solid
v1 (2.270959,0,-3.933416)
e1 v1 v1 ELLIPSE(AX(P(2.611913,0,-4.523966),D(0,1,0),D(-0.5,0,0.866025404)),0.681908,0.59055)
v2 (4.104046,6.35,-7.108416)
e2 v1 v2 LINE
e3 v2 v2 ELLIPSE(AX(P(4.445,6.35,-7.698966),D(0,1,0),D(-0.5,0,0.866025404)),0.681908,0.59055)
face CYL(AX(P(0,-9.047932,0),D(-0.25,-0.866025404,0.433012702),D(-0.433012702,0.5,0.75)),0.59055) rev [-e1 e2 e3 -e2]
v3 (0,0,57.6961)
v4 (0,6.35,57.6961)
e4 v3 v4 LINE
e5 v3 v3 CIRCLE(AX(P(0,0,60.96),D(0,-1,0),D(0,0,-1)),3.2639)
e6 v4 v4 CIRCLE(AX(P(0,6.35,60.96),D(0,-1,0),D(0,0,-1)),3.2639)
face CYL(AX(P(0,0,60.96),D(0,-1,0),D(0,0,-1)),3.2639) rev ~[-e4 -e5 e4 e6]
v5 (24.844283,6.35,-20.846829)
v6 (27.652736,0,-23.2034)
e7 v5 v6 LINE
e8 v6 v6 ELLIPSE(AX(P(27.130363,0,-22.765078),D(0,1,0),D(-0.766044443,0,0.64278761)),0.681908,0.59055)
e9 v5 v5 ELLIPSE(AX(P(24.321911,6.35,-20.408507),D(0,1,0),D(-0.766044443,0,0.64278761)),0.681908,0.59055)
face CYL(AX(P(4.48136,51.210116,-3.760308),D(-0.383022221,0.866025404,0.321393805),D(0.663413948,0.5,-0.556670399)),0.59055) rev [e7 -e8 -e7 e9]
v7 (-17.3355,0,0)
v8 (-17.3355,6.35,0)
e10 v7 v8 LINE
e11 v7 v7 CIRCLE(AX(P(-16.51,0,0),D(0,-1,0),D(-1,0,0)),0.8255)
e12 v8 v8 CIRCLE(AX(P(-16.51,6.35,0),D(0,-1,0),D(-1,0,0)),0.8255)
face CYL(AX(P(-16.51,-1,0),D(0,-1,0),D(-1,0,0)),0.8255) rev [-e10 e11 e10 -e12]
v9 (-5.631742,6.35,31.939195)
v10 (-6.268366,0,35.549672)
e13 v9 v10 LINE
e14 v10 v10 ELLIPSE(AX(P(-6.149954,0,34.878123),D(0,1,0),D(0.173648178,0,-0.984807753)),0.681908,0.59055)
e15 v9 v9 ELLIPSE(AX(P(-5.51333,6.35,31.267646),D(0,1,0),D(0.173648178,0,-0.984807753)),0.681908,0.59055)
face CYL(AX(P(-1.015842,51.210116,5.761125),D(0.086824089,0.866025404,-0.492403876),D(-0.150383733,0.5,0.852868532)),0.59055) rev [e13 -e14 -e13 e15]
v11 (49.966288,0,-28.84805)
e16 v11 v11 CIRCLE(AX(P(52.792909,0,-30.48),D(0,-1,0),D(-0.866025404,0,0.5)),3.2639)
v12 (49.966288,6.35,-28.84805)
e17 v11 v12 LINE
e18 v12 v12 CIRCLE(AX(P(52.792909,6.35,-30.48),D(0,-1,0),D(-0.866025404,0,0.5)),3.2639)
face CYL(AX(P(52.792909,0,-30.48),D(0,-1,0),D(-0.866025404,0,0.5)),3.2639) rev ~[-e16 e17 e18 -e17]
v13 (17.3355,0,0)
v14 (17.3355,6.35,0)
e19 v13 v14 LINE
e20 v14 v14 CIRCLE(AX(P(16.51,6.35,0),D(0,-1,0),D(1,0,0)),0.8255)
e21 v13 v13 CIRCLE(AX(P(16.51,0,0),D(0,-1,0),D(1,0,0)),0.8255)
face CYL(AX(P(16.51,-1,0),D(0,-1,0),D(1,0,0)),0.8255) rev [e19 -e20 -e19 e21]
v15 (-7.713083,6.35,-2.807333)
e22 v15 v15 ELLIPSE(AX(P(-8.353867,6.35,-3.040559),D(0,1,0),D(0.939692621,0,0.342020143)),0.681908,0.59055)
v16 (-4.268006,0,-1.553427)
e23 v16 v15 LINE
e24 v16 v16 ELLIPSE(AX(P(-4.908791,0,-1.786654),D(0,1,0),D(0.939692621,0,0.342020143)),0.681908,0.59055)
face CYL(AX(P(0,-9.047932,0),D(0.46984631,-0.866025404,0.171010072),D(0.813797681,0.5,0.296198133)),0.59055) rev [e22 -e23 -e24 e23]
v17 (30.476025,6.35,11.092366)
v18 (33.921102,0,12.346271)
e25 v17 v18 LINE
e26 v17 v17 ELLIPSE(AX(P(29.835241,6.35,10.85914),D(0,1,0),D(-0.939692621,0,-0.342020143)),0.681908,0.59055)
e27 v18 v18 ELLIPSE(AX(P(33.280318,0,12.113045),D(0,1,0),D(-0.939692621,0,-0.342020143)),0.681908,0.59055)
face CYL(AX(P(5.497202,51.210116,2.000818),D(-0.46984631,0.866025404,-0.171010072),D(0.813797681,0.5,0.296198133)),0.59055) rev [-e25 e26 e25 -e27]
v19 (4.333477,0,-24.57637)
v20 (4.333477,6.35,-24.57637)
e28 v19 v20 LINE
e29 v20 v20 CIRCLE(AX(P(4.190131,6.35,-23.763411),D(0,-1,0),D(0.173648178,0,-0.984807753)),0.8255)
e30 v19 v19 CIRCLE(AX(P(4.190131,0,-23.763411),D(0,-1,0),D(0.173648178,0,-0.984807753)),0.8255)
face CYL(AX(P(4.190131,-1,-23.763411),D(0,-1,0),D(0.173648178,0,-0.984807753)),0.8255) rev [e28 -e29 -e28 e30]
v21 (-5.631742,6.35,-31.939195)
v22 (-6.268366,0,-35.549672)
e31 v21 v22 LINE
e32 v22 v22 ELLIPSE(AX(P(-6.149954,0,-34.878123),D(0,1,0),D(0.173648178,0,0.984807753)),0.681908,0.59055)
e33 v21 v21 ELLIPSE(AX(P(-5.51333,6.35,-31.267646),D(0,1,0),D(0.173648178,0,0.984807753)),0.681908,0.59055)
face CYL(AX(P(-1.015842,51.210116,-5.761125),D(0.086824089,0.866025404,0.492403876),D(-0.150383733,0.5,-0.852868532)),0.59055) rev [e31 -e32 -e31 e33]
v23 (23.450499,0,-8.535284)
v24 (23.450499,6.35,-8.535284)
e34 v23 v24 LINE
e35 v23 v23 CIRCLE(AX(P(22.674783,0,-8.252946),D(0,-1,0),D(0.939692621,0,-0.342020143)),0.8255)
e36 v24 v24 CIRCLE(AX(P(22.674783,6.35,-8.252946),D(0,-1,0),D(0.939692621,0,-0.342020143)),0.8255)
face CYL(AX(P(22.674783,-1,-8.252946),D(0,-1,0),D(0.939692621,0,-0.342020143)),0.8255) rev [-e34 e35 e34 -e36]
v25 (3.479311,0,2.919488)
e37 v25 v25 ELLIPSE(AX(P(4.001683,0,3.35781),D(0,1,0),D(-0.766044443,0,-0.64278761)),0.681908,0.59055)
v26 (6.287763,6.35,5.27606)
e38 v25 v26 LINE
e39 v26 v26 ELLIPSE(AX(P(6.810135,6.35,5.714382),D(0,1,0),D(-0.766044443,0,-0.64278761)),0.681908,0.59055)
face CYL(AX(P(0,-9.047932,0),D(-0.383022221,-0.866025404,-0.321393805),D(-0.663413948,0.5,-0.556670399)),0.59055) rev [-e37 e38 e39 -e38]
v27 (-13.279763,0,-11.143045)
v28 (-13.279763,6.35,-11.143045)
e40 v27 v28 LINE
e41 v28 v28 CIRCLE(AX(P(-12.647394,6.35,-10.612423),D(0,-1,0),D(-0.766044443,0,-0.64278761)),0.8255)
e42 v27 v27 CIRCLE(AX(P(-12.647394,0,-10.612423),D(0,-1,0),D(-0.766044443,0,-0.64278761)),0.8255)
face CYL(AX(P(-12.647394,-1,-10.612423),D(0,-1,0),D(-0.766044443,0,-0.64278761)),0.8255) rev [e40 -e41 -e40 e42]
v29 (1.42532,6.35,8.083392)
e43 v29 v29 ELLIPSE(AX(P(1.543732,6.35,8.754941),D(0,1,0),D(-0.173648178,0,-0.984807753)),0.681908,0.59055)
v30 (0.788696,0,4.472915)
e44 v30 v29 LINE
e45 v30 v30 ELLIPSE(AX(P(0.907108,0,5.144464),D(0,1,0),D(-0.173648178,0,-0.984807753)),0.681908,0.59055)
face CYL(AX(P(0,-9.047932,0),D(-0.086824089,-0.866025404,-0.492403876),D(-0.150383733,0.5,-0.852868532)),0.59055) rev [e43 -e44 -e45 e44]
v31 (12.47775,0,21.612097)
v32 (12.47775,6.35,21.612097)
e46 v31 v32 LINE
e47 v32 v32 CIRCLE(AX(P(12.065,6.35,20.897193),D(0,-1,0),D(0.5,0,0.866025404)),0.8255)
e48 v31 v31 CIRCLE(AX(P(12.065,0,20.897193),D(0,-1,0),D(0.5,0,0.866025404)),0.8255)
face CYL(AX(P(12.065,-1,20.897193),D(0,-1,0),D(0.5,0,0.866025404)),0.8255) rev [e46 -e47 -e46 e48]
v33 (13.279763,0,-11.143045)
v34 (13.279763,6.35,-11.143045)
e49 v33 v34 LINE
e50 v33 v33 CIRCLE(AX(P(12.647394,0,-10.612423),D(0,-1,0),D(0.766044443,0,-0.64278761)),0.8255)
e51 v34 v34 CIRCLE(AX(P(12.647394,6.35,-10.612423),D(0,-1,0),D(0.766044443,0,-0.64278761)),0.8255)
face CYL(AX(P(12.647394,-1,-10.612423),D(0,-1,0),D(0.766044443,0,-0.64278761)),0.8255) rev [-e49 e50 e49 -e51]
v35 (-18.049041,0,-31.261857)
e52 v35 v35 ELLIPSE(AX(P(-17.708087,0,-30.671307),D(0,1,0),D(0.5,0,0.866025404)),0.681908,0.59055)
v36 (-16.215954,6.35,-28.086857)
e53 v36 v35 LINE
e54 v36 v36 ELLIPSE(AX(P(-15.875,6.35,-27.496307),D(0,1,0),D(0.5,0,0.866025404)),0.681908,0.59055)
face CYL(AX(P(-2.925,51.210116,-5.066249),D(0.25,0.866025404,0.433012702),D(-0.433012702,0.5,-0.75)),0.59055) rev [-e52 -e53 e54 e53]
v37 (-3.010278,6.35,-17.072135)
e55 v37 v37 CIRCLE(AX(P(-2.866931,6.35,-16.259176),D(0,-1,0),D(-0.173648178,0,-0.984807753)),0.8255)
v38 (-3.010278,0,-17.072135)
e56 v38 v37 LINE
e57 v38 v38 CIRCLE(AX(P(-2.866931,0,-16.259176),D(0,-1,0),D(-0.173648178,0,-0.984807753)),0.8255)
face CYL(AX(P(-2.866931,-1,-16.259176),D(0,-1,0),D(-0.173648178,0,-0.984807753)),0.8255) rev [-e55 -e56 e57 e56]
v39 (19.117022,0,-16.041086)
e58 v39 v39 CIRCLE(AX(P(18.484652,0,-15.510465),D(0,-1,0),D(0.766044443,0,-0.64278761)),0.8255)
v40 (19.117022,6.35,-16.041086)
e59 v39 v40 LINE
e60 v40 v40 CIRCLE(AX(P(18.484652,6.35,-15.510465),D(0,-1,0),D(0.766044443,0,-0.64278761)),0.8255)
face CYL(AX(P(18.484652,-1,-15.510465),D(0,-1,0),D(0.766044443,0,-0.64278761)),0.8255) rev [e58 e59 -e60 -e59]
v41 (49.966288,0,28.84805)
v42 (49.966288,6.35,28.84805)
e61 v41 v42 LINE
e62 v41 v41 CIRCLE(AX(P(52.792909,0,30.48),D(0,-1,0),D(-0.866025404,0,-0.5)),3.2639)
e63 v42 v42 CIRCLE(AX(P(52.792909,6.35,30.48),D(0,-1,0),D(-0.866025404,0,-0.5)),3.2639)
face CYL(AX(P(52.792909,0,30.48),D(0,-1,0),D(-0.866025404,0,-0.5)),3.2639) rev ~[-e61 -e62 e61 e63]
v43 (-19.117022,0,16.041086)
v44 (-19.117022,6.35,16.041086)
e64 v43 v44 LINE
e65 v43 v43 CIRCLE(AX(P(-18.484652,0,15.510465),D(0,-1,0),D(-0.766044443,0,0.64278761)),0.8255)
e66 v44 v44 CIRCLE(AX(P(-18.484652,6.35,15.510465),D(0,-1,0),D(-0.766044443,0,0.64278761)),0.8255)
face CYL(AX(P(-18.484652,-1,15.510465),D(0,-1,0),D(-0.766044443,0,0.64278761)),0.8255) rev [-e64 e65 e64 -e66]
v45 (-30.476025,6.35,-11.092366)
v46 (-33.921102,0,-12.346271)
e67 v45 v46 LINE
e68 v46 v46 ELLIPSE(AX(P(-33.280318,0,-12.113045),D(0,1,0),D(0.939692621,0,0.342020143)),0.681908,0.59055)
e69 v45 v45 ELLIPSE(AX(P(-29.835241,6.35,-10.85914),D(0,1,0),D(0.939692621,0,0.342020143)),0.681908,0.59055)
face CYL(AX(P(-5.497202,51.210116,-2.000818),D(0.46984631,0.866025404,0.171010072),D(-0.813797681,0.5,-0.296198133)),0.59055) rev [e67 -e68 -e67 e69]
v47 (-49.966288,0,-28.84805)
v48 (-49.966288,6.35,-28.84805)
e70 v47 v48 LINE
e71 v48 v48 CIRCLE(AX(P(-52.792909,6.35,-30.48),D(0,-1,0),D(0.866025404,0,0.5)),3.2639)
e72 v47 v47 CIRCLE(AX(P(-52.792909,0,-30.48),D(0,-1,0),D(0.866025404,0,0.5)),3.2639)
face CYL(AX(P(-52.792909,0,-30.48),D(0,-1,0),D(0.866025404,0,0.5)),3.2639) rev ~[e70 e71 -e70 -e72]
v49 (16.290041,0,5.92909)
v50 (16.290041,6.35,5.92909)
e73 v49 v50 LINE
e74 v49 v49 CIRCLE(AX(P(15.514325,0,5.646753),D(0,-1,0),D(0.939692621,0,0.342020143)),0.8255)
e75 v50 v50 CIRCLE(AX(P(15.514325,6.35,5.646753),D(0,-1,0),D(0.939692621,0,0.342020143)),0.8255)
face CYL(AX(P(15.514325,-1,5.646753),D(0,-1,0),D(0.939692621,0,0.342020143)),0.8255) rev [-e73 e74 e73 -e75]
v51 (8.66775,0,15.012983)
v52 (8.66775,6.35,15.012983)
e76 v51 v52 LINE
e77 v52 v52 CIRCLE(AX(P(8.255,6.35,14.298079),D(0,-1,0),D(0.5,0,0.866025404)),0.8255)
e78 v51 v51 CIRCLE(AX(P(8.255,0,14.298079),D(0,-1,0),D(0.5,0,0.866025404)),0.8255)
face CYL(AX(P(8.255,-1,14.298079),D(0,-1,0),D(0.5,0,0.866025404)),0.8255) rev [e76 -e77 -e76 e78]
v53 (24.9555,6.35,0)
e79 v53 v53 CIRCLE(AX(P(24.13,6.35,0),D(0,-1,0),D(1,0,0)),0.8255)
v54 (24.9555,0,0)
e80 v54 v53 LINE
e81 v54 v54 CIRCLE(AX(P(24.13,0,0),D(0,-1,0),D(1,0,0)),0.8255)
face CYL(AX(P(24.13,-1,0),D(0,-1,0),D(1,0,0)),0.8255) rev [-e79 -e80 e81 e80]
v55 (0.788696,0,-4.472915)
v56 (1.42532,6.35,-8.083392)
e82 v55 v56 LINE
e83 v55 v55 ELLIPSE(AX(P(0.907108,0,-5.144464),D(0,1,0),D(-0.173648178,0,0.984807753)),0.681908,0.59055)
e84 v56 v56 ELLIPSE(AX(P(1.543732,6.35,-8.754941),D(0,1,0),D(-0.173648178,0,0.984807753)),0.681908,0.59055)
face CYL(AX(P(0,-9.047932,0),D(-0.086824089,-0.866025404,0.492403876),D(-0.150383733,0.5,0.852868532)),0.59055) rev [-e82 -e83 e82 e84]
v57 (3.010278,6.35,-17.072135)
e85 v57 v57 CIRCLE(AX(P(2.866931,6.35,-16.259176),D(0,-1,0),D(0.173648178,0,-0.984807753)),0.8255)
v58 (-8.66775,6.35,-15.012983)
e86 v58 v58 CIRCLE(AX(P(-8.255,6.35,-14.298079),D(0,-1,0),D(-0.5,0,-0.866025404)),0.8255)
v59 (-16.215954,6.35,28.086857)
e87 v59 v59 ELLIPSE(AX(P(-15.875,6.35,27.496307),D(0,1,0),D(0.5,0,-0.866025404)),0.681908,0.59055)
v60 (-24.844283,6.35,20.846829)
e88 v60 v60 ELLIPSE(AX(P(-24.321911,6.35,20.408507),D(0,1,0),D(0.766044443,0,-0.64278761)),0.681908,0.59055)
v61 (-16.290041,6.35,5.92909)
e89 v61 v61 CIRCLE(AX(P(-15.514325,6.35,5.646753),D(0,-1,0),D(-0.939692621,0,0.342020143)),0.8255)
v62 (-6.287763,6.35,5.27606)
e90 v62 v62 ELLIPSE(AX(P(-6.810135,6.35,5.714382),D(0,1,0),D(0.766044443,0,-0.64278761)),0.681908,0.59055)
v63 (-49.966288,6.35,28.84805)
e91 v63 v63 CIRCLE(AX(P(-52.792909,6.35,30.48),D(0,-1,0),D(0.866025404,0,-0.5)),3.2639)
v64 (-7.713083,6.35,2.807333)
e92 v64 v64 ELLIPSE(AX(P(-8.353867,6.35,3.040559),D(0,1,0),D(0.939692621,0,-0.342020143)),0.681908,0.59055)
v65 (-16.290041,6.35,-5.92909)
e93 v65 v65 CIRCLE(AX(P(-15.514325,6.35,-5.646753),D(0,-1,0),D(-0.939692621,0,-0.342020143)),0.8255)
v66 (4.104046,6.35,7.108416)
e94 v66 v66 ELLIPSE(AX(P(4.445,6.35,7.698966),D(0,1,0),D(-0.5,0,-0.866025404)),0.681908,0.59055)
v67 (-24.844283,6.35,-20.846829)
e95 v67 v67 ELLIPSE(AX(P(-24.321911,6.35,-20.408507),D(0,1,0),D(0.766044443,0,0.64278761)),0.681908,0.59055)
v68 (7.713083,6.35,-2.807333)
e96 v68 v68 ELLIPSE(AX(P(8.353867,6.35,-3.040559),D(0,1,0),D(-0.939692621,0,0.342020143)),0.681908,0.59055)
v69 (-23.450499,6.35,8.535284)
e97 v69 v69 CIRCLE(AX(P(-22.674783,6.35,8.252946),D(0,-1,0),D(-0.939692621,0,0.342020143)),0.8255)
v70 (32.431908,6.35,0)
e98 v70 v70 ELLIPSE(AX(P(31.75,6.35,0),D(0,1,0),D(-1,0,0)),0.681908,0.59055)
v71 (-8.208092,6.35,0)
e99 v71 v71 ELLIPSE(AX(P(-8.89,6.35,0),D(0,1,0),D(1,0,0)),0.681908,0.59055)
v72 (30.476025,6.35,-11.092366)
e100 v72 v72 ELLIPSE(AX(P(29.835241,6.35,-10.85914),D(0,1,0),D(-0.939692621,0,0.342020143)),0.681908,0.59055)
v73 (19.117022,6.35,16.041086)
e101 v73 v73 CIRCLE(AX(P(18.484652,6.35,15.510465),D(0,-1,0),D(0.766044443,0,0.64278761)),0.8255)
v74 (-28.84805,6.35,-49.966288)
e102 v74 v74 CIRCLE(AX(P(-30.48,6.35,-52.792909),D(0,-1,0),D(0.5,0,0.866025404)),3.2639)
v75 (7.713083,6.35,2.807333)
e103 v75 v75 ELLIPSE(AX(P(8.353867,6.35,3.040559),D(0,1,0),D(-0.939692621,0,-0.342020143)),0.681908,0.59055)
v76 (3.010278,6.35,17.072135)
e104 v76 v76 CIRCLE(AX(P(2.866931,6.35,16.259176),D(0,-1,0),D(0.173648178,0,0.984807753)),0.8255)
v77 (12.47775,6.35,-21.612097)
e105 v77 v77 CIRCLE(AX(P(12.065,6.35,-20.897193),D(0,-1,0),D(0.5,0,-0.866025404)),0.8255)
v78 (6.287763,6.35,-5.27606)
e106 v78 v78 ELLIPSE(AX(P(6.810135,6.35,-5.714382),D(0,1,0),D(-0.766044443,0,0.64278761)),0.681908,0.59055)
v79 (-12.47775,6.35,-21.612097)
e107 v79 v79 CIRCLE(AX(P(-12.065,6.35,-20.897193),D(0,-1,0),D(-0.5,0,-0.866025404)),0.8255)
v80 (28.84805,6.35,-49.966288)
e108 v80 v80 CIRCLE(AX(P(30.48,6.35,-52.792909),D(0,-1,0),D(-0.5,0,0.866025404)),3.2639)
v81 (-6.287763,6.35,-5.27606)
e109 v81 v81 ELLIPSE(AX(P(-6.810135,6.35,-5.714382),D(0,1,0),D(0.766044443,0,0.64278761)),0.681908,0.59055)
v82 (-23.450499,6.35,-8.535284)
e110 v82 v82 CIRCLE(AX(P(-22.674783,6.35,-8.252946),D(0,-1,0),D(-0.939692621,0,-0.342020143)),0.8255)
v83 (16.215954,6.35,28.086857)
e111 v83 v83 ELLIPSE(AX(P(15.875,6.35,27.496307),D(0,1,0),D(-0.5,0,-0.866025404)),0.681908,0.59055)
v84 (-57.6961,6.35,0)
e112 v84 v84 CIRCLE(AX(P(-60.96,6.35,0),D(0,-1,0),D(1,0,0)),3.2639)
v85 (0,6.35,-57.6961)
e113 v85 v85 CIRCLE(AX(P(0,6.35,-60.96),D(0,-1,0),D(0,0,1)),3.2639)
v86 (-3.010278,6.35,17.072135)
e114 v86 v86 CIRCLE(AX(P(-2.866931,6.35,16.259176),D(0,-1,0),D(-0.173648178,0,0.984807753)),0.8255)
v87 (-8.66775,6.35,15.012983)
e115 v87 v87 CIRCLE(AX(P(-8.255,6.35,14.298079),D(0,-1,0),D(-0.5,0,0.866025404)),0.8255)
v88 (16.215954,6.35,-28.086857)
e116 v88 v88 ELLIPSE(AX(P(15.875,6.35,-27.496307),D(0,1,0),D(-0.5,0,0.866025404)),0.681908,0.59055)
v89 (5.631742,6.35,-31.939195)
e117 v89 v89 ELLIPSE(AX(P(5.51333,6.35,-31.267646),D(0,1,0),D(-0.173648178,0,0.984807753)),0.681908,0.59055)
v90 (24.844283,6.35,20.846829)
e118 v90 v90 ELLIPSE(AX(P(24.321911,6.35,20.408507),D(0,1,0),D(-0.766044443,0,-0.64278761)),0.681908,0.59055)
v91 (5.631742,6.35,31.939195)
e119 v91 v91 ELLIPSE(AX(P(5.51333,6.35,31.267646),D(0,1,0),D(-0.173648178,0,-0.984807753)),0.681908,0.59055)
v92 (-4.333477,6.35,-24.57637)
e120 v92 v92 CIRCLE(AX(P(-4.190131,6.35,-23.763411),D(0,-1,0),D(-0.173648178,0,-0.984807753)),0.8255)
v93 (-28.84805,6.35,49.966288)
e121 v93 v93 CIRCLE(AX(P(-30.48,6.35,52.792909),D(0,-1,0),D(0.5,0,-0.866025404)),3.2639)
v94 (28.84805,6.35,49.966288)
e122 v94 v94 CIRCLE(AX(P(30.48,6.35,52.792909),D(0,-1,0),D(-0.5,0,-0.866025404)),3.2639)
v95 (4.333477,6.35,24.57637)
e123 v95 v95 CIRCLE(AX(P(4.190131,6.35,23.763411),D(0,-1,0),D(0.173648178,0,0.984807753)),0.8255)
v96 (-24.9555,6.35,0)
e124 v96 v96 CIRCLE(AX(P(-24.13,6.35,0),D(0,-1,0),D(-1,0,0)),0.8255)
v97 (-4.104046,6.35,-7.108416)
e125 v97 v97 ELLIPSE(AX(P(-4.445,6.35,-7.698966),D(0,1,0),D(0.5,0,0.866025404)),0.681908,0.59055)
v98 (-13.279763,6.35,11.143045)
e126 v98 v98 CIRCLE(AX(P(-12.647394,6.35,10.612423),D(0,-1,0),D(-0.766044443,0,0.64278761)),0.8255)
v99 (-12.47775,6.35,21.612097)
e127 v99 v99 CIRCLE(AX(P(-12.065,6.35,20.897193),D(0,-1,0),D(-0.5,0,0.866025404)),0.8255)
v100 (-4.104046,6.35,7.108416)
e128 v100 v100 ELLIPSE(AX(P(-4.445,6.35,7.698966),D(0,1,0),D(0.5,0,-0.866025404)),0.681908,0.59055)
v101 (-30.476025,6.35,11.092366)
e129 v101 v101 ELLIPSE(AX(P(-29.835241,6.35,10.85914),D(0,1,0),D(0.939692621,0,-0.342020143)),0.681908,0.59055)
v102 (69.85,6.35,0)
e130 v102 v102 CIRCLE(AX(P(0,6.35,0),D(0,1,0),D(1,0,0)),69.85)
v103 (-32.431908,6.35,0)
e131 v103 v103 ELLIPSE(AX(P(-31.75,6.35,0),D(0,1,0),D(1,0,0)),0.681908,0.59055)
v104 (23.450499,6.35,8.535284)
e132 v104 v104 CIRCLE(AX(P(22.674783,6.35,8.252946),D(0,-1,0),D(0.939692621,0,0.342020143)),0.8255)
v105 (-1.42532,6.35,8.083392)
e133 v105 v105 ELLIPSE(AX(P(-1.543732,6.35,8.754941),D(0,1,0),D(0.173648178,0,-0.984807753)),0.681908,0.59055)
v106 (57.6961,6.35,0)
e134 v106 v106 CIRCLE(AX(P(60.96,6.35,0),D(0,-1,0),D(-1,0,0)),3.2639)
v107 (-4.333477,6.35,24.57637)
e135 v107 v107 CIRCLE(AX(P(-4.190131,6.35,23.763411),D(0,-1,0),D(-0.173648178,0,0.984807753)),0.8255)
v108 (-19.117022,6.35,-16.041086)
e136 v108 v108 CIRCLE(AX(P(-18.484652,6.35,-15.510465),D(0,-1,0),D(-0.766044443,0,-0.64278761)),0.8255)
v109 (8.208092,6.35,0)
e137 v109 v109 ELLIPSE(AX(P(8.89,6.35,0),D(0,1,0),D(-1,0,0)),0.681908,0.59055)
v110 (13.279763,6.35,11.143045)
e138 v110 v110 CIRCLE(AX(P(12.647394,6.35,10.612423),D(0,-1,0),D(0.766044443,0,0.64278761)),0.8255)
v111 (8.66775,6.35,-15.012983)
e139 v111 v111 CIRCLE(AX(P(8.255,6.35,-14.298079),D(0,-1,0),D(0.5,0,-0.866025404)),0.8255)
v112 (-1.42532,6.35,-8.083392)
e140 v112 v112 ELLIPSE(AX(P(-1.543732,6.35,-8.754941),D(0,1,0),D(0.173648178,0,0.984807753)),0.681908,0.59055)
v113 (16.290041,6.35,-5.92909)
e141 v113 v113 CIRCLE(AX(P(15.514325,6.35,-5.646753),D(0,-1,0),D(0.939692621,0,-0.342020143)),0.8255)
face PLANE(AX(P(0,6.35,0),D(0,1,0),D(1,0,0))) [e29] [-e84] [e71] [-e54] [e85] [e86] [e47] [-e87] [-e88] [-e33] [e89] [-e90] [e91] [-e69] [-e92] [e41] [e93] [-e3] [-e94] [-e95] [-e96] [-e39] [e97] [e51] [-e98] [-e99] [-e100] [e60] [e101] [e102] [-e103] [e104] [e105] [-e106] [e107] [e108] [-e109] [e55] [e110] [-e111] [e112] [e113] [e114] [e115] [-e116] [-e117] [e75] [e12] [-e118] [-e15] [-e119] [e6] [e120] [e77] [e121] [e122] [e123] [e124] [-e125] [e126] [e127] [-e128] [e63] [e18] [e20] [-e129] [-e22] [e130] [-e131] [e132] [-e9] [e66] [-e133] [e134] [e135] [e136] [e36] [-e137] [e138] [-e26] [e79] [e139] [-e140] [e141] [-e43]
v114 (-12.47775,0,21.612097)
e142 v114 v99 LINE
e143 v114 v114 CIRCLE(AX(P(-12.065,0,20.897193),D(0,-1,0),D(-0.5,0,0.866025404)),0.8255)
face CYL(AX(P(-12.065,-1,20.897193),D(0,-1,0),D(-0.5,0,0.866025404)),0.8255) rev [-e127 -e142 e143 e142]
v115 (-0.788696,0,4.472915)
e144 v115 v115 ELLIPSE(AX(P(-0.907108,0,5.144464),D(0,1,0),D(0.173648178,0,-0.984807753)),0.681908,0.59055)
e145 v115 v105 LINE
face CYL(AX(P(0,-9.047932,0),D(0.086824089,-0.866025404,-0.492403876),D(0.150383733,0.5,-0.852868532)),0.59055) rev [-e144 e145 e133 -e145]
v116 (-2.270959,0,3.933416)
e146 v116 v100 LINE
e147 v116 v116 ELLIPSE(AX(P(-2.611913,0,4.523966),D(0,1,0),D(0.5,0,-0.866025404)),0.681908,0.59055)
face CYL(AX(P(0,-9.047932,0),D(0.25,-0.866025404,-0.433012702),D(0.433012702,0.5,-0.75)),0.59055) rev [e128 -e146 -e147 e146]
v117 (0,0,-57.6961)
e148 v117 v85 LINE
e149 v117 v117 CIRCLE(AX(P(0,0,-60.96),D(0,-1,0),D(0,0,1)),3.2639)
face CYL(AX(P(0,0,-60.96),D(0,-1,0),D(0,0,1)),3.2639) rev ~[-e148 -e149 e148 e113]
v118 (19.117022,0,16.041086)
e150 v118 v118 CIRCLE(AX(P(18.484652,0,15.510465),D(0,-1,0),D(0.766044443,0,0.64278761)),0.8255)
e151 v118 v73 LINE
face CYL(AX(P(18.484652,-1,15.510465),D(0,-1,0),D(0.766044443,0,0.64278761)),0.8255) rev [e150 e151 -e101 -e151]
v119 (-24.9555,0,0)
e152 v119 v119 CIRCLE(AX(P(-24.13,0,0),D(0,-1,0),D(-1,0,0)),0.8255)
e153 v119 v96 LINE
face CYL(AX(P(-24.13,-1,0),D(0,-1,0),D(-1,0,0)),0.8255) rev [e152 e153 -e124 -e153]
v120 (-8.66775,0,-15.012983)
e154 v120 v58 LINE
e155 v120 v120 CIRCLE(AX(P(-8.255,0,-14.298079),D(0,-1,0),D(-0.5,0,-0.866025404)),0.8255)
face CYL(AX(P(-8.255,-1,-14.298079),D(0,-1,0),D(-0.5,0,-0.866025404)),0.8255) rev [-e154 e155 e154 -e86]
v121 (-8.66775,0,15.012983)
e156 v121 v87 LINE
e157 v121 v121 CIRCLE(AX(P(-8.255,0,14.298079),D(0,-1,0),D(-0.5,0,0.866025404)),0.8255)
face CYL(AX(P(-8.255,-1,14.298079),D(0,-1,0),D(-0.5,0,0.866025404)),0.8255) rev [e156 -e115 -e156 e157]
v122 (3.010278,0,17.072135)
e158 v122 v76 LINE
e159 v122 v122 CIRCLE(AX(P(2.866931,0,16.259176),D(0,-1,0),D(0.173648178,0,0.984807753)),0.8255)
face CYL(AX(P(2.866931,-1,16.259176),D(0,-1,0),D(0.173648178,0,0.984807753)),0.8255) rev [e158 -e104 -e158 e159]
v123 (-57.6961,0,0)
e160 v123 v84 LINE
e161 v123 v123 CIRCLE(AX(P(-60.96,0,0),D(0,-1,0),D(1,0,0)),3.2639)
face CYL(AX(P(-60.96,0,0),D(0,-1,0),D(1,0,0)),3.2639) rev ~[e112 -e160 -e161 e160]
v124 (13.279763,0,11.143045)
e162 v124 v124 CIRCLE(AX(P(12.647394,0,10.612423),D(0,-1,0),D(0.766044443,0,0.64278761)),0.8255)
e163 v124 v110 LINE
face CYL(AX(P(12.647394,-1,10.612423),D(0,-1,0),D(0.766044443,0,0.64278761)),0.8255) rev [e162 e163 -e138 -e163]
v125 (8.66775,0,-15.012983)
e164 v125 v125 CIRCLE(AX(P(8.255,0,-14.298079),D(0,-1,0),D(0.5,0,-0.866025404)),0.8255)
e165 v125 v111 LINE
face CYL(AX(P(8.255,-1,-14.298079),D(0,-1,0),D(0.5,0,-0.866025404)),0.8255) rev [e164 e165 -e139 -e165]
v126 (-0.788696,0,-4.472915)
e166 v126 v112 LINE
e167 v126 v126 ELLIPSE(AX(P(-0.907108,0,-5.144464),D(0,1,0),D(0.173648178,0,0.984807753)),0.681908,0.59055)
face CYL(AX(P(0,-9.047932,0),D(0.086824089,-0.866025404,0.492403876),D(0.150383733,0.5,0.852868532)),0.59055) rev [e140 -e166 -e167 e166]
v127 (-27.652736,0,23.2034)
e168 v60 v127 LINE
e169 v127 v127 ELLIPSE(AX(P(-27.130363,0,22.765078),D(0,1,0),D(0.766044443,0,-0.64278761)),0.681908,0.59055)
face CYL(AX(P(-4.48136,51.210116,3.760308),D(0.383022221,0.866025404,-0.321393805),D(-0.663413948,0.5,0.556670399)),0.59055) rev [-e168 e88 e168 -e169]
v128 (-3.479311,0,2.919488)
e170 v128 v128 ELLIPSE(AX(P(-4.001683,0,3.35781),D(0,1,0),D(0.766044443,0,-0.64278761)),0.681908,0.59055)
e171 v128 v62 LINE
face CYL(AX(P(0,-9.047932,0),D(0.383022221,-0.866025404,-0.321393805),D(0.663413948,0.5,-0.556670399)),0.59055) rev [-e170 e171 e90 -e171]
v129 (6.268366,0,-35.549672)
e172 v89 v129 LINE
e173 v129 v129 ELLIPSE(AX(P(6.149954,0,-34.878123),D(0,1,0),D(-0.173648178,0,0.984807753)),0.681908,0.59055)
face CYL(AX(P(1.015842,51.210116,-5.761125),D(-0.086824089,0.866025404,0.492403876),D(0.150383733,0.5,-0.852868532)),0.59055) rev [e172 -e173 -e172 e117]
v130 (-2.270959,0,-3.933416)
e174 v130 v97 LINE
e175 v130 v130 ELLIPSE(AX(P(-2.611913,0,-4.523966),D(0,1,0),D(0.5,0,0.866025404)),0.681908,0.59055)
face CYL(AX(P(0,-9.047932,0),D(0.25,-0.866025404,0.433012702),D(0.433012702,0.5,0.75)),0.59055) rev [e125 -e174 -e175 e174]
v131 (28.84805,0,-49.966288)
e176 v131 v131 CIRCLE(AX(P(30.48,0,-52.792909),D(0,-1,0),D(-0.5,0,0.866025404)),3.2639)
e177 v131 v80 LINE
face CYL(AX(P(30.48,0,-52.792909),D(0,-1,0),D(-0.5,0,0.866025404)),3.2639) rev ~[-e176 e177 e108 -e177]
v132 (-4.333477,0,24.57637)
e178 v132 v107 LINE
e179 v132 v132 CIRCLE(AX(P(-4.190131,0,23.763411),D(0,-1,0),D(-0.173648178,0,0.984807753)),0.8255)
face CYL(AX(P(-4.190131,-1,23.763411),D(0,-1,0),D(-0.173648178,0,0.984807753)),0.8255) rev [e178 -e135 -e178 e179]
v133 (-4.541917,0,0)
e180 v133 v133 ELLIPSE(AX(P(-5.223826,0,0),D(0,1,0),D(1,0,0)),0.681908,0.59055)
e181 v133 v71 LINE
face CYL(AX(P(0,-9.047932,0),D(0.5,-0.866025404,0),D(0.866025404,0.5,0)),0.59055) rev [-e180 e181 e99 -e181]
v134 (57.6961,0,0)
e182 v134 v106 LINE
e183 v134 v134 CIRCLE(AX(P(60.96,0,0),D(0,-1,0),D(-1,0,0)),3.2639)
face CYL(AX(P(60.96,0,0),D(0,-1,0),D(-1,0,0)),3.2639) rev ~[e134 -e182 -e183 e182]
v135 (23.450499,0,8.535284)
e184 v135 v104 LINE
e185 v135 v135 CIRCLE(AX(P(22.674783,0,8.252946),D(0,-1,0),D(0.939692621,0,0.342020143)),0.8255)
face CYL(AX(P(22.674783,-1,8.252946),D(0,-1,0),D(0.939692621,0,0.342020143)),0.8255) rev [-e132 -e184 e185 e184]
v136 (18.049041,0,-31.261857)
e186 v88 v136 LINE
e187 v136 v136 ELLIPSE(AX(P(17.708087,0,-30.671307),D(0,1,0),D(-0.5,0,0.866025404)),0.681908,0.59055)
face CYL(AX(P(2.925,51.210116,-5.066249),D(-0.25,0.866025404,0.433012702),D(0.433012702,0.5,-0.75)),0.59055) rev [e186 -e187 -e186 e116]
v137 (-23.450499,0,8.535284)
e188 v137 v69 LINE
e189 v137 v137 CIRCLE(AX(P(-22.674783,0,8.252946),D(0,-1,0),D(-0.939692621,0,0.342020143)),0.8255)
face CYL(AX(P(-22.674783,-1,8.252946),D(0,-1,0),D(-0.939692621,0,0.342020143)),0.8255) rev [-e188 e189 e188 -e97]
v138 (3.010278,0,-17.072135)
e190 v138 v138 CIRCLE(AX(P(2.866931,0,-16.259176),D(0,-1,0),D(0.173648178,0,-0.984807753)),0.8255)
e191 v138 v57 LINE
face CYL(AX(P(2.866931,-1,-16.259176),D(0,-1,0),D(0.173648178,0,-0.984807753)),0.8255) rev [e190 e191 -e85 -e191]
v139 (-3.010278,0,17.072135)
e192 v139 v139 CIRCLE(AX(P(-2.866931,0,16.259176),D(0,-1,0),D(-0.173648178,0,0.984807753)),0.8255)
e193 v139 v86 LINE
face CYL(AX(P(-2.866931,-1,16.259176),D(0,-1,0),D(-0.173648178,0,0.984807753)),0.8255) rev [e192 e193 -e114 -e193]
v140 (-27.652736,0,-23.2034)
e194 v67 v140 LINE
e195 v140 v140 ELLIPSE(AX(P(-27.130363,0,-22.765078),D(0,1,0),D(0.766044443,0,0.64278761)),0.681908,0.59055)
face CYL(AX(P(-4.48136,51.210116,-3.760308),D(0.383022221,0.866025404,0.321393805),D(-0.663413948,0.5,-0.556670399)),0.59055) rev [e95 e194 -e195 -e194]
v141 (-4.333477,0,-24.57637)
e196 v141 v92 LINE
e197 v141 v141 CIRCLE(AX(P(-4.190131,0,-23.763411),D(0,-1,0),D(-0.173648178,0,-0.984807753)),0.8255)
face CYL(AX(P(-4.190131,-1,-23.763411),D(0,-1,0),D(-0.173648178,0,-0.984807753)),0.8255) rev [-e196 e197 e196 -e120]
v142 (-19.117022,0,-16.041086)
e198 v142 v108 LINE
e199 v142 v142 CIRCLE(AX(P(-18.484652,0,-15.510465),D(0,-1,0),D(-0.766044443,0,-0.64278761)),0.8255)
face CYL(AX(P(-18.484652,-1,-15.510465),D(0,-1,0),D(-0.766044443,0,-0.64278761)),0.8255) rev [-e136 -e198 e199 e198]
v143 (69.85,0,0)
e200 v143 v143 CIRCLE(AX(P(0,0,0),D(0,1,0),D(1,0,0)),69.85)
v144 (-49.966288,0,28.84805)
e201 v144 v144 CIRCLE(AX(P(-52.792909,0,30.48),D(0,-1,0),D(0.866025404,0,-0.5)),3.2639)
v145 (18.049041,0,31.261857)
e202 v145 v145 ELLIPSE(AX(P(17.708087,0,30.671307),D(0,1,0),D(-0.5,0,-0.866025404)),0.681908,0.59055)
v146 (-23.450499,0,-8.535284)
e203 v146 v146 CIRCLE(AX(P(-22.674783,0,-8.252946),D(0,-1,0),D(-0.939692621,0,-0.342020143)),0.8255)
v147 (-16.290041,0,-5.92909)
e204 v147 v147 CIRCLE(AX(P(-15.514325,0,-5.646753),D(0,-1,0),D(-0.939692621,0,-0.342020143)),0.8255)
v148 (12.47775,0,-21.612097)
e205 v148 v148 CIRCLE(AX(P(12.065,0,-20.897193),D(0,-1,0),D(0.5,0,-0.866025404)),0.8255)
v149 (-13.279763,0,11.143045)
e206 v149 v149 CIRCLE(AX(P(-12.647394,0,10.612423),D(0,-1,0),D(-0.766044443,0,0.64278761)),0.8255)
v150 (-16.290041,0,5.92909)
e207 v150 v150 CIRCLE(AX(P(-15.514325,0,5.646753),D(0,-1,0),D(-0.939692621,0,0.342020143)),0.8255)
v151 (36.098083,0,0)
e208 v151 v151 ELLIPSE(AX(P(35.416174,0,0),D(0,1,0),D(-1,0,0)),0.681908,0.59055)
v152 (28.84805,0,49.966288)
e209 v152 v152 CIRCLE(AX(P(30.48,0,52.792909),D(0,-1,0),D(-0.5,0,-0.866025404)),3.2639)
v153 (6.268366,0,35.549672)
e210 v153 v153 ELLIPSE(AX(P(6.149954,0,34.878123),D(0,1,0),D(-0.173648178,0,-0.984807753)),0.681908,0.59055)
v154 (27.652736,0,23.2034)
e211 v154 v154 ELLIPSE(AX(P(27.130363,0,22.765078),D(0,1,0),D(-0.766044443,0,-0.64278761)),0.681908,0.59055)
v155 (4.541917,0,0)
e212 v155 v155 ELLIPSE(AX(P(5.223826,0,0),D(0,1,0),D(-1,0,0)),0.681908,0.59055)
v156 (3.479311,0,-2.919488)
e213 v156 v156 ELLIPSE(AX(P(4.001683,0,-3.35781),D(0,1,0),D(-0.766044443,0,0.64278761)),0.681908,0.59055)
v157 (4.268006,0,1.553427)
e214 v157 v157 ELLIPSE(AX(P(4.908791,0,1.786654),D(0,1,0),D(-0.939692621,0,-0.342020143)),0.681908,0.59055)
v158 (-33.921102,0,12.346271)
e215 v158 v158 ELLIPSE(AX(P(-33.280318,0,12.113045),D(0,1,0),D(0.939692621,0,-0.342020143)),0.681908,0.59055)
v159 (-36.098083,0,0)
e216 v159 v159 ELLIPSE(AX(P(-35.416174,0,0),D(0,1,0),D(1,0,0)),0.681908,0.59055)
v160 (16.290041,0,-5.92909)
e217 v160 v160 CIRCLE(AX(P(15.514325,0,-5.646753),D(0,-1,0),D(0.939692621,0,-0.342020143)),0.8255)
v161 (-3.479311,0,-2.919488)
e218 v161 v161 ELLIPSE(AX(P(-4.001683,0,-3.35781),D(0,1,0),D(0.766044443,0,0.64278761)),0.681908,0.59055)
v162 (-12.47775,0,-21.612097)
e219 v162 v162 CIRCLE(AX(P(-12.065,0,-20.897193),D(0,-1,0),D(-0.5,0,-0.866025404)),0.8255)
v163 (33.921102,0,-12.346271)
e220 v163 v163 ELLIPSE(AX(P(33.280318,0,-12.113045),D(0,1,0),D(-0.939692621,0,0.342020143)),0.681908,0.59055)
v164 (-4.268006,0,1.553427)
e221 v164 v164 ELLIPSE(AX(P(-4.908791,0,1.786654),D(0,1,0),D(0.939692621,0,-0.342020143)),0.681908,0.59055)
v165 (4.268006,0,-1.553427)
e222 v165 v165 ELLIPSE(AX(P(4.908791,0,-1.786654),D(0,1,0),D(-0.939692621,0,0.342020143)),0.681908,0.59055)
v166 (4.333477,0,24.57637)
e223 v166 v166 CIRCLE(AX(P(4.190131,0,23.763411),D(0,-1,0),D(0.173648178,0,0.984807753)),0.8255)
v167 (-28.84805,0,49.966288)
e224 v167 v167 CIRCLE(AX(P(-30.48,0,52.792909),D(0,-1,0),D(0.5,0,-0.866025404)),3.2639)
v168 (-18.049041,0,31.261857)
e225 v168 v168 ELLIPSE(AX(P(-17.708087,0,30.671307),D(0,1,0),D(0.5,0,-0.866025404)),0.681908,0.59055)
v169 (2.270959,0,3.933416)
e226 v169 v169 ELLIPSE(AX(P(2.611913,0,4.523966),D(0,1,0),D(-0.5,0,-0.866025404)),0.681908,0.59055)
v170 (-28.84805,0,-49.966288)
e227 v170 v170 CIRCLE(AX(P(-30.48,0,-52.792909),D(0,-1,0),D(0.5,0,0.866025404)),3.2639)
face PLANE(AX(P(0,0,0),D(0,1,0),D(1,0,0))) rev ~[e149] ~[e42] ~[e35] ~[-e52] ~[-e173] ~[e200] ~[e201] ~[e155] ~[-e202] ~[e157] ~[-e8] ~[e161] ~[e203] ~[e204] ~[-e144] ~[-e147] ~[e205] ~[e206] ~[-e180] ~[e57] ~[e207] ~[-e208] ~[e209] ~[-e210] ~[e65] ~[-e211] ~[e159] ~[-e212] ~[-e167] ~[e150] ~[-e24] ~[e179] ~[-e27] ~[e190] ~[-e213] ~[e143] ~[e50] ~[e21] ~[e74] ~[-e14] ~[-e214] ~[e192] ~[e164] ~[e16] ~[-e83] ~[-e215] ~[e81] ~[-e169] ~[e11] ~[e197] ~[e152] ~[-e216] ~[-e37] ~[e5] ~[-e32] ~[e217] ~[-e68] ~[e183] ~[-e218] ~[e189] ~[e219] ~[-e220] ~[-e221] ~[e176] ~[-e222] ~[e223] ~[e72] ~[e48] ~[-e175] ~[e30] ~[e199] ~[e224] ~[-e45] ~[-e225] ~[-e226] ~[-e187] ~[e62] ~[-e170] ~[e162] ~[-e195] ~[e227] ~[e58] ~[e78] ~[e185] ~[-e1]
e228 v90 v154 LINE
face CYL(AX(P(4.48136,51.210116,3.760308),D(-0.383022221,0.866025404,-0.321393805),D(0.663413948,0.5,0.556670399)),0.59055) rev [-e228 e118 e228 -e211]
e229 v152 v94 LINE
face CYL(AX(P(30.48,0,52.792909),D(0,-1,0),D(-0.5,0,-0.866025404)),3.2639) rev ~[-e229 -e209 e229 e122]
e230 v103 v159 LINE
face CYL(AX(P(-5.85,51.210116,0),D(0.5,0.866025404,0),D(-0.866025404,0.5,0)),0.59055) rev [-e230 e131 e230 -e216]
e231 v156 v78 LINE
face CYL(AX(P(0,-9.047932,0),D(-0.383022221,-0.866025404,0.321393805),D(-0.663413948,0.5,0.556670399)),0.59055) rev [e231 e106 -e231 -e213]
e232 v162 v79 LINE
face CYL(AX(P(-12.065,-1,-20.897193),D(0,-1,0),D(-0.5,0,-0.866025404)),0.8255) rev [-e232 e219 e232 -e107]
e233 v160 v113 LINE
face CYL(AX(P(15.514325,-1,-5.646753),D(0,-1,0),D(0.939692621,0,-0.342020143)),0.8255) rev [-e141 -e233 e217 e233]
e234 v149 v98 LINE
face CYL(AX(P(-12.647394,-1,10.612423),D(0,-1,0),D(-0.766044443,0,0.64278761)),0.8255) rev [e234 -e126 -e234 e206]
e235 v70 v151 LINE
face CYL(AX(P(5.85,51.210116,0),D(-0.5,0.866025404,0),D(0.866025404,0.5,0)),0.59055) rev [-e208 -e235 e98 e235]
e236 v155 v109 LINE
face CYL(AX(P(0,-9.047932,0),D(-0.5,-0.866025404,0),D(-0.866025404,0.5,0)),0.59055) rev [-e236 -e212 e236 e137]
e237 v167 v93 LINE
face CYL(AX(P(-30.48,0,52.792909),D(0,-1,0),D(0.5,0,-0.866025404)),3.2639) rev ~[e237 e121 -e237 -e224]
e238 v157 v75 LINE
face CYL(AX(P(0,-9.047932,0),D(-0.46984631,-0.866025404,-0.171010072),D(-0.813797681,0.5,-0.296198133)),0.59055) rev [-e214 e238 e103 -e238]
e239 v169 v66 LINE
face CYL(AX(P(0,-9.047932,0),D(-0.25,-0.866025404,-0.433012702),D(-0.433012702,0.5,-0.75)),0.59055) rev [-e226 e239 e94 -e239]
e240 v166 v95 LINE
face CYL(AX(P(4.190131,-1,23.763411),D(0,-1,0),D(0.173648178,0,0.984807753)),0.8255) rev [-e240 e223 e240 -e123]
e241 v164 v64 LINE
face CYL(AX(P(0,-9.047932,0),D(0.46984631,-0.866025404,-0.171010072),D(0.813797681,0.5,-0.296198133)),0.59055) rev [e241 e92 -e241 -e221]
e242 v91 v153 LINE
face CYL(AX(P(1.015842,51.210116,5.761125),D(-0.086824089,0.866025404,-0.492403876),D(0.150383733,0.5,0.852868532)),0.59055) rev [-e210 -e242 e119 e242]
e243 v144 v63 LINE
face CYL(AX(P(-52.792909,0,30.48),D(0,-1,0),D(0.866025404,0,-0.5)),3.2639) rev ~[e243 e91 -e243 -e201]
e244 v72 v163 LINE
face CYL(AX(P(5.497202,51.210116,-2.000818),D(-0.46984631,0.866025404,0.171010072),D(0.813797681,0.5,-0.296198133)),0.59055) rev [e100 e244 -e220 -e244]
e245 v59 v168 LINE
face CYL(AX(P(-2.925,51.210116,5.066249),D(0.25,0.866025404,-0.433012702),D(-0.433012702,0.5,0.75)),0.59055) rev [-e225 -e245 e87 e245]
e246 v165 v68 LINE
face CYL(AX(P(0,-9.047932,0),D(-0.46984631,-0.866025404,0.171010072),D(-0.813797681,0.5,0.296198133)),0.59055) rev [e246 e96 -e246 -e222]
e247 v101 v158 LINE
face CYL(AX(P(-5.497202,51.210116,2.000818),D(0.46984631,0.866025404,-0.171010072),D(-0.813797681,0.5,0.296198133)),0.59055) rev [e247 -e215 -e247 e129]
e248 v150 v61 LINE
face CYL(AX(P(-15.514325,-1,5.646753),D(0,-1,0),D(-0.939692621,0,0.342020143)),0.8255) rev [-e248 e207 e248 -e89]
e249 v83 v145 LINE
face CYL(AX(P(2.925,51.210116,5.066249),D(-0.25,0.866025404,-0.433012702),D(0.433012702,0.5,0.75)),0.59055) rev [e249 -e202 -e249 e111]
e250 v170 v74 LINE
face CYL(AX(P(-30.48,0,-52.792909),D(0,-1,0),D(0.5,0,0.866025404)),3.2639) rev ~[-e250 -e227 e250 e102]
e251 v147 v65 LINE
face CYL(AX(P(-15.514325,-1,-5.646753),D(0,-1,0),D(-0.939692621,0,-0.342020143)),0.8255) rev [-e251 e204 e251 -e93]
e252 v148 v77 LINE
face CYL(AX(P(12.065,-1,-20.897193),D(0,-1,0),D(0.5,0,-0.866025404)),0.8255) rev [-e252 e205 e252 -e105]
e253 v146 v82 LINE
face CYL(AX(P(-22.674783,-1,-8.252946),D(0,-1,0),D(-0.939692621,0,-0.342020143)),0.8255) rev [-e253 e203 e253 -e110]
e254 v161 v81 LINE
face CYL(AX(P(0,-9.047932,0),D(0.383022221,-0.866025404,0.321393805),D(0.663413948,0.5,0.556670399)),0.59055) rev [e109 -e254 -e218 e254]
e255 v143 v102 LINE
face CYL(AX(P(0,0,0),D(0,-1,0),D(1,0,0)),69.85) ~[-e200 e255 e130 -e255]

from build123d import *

# Parameters (mm, degrees)
SKETCH1_R           = 69.85
BOSS_EXTRUDE1_DEPTH = 6.35
SKETCH4_R           = 0.59055
CUT_EXTRUDE1_DEPTH  = 49.26
CUT_EXTRUDE2_START  = -51.8
SKETCH6_R           = 0.59055
CUT_EXTRUDE2_DEPTH  = 77.349261314
LOX_START           = -7.35
SKETCH7_R           = 0.8255
LOX_HOLES_DEPTH     = 8.35
CIRPATTERN1_COUNT   = 18
SKETCH8_R           = 3.2639
CUT_EXTRUDE4_DEPTH  = 7.35
CIRPATTERN2_COUNT   = 12


with BuildPart() as part:
    # Sketch1 → Boss-Extrude1 (new body)
    with BuildSketch(Plane(origin=(0, 0, 0), x_dir=(1, 0, 0), z_dir=(0, 1, 0))):
        Circle(SKETCH1_R)
    extrude(amount=BOSS_EXTRUDE1_DEPTH)

    # Sketch4 → Cut-Extrude1 (cut, through all)
    with BuildSketch(Plane(origin=(-3.917869343, -6.785948759, 0), x_dir=(-0.866025404, 0.5, 0), z_dir=(0.5, 0.866025404, 0))):
        with Locations((-4.52396584, 0)):
            Circle(SKETCH4_R)
    cut_extrude1 = extrude(amount=CUT_EXTRUDE1_DEPTH, mode=Mode.SUBTRACT)

    # Sketch6 → Cut-Extrude2 (cut)
    with BuildSketch(Plane(origin=(5.187869343, -8.985653285, 0), x_dir=(0.866025404, 0.5, 0), z_dir=(0.5, -0.866025404, 0)).offset(CUT_EXTRUDE2_START)):
        with Locations((30.67130657, 0)):
            Circle(SKETCH6_R)
    cut_extrude2 = extrude(amount=CUT_EXTRUDE2_DEPTH, mode=Mode.SUBTRACT)

    # Sketch7 → LOx Holes (cut)
    with BuildSketch(Plane(origin=(0, 6.35, 0), x_dir=(1, 0, 0), z_dir=(0, 1, 0)).offset(LOX_START)):
        with Locations((24.13, 0)):
            Circle(SKETCH7_R)
        with Locations((16.51, 0)):
            Circle(SKETCH7_R)
    lox_holes = extrude(amount=LOX_HOLES_DEPTH, mode=Mode.SUBTRACT)

    # CirPattern1: Cut-Extrude1, Cut-Extrude2, LOx Holes ×18 about axis
    cirpattern1_axis = Axis((0, 0, 0), (0, 1, 0))
    for i in range(1, CIRPATTERN1_COUNT):
        add(cut_extrude1.rotate(cirpattern1_axis, i * 360 / CIRPATTERN1_COUNT), mode=Mode.SUBTRACT)
        add(cut_extrude2.rotate(cirpattern1_axis, i * 360 / CIRPATTERN1_COUNT), mode=Mode.SUBTRACT)
        add(lox_holes.rotate(cirpattern1_axis, i * 360 / CIRPATTERN1_COUNT), mode=Mode.SUBTRACT)

    # Sketch8 → Cut-Extrude4 (cut, through all)
    with BuildSketch(Plane.XZ):
        with Locations((-60.96, 0)):
            Circle(SKETCH8_R)
    cut_extrude4 = extrude(amount=-CUT_EXTRUDE4_DEPTH, mode=Mode.SUBTRACT)

    # CirPattern2: Cut-Extrude4 ×12 about axis
    cirpattern2_axis = Axis((0, 0, 0), (0, 1, 0))
    for i in range(1, CIRPATTERN2_COUNT):
        add(cut_extrude4.rotate(cirpattern2_axis, i * 360 / CIRPATTERN2_COUNT), mode=Mode.SUBTRACT)


solid = part.part
